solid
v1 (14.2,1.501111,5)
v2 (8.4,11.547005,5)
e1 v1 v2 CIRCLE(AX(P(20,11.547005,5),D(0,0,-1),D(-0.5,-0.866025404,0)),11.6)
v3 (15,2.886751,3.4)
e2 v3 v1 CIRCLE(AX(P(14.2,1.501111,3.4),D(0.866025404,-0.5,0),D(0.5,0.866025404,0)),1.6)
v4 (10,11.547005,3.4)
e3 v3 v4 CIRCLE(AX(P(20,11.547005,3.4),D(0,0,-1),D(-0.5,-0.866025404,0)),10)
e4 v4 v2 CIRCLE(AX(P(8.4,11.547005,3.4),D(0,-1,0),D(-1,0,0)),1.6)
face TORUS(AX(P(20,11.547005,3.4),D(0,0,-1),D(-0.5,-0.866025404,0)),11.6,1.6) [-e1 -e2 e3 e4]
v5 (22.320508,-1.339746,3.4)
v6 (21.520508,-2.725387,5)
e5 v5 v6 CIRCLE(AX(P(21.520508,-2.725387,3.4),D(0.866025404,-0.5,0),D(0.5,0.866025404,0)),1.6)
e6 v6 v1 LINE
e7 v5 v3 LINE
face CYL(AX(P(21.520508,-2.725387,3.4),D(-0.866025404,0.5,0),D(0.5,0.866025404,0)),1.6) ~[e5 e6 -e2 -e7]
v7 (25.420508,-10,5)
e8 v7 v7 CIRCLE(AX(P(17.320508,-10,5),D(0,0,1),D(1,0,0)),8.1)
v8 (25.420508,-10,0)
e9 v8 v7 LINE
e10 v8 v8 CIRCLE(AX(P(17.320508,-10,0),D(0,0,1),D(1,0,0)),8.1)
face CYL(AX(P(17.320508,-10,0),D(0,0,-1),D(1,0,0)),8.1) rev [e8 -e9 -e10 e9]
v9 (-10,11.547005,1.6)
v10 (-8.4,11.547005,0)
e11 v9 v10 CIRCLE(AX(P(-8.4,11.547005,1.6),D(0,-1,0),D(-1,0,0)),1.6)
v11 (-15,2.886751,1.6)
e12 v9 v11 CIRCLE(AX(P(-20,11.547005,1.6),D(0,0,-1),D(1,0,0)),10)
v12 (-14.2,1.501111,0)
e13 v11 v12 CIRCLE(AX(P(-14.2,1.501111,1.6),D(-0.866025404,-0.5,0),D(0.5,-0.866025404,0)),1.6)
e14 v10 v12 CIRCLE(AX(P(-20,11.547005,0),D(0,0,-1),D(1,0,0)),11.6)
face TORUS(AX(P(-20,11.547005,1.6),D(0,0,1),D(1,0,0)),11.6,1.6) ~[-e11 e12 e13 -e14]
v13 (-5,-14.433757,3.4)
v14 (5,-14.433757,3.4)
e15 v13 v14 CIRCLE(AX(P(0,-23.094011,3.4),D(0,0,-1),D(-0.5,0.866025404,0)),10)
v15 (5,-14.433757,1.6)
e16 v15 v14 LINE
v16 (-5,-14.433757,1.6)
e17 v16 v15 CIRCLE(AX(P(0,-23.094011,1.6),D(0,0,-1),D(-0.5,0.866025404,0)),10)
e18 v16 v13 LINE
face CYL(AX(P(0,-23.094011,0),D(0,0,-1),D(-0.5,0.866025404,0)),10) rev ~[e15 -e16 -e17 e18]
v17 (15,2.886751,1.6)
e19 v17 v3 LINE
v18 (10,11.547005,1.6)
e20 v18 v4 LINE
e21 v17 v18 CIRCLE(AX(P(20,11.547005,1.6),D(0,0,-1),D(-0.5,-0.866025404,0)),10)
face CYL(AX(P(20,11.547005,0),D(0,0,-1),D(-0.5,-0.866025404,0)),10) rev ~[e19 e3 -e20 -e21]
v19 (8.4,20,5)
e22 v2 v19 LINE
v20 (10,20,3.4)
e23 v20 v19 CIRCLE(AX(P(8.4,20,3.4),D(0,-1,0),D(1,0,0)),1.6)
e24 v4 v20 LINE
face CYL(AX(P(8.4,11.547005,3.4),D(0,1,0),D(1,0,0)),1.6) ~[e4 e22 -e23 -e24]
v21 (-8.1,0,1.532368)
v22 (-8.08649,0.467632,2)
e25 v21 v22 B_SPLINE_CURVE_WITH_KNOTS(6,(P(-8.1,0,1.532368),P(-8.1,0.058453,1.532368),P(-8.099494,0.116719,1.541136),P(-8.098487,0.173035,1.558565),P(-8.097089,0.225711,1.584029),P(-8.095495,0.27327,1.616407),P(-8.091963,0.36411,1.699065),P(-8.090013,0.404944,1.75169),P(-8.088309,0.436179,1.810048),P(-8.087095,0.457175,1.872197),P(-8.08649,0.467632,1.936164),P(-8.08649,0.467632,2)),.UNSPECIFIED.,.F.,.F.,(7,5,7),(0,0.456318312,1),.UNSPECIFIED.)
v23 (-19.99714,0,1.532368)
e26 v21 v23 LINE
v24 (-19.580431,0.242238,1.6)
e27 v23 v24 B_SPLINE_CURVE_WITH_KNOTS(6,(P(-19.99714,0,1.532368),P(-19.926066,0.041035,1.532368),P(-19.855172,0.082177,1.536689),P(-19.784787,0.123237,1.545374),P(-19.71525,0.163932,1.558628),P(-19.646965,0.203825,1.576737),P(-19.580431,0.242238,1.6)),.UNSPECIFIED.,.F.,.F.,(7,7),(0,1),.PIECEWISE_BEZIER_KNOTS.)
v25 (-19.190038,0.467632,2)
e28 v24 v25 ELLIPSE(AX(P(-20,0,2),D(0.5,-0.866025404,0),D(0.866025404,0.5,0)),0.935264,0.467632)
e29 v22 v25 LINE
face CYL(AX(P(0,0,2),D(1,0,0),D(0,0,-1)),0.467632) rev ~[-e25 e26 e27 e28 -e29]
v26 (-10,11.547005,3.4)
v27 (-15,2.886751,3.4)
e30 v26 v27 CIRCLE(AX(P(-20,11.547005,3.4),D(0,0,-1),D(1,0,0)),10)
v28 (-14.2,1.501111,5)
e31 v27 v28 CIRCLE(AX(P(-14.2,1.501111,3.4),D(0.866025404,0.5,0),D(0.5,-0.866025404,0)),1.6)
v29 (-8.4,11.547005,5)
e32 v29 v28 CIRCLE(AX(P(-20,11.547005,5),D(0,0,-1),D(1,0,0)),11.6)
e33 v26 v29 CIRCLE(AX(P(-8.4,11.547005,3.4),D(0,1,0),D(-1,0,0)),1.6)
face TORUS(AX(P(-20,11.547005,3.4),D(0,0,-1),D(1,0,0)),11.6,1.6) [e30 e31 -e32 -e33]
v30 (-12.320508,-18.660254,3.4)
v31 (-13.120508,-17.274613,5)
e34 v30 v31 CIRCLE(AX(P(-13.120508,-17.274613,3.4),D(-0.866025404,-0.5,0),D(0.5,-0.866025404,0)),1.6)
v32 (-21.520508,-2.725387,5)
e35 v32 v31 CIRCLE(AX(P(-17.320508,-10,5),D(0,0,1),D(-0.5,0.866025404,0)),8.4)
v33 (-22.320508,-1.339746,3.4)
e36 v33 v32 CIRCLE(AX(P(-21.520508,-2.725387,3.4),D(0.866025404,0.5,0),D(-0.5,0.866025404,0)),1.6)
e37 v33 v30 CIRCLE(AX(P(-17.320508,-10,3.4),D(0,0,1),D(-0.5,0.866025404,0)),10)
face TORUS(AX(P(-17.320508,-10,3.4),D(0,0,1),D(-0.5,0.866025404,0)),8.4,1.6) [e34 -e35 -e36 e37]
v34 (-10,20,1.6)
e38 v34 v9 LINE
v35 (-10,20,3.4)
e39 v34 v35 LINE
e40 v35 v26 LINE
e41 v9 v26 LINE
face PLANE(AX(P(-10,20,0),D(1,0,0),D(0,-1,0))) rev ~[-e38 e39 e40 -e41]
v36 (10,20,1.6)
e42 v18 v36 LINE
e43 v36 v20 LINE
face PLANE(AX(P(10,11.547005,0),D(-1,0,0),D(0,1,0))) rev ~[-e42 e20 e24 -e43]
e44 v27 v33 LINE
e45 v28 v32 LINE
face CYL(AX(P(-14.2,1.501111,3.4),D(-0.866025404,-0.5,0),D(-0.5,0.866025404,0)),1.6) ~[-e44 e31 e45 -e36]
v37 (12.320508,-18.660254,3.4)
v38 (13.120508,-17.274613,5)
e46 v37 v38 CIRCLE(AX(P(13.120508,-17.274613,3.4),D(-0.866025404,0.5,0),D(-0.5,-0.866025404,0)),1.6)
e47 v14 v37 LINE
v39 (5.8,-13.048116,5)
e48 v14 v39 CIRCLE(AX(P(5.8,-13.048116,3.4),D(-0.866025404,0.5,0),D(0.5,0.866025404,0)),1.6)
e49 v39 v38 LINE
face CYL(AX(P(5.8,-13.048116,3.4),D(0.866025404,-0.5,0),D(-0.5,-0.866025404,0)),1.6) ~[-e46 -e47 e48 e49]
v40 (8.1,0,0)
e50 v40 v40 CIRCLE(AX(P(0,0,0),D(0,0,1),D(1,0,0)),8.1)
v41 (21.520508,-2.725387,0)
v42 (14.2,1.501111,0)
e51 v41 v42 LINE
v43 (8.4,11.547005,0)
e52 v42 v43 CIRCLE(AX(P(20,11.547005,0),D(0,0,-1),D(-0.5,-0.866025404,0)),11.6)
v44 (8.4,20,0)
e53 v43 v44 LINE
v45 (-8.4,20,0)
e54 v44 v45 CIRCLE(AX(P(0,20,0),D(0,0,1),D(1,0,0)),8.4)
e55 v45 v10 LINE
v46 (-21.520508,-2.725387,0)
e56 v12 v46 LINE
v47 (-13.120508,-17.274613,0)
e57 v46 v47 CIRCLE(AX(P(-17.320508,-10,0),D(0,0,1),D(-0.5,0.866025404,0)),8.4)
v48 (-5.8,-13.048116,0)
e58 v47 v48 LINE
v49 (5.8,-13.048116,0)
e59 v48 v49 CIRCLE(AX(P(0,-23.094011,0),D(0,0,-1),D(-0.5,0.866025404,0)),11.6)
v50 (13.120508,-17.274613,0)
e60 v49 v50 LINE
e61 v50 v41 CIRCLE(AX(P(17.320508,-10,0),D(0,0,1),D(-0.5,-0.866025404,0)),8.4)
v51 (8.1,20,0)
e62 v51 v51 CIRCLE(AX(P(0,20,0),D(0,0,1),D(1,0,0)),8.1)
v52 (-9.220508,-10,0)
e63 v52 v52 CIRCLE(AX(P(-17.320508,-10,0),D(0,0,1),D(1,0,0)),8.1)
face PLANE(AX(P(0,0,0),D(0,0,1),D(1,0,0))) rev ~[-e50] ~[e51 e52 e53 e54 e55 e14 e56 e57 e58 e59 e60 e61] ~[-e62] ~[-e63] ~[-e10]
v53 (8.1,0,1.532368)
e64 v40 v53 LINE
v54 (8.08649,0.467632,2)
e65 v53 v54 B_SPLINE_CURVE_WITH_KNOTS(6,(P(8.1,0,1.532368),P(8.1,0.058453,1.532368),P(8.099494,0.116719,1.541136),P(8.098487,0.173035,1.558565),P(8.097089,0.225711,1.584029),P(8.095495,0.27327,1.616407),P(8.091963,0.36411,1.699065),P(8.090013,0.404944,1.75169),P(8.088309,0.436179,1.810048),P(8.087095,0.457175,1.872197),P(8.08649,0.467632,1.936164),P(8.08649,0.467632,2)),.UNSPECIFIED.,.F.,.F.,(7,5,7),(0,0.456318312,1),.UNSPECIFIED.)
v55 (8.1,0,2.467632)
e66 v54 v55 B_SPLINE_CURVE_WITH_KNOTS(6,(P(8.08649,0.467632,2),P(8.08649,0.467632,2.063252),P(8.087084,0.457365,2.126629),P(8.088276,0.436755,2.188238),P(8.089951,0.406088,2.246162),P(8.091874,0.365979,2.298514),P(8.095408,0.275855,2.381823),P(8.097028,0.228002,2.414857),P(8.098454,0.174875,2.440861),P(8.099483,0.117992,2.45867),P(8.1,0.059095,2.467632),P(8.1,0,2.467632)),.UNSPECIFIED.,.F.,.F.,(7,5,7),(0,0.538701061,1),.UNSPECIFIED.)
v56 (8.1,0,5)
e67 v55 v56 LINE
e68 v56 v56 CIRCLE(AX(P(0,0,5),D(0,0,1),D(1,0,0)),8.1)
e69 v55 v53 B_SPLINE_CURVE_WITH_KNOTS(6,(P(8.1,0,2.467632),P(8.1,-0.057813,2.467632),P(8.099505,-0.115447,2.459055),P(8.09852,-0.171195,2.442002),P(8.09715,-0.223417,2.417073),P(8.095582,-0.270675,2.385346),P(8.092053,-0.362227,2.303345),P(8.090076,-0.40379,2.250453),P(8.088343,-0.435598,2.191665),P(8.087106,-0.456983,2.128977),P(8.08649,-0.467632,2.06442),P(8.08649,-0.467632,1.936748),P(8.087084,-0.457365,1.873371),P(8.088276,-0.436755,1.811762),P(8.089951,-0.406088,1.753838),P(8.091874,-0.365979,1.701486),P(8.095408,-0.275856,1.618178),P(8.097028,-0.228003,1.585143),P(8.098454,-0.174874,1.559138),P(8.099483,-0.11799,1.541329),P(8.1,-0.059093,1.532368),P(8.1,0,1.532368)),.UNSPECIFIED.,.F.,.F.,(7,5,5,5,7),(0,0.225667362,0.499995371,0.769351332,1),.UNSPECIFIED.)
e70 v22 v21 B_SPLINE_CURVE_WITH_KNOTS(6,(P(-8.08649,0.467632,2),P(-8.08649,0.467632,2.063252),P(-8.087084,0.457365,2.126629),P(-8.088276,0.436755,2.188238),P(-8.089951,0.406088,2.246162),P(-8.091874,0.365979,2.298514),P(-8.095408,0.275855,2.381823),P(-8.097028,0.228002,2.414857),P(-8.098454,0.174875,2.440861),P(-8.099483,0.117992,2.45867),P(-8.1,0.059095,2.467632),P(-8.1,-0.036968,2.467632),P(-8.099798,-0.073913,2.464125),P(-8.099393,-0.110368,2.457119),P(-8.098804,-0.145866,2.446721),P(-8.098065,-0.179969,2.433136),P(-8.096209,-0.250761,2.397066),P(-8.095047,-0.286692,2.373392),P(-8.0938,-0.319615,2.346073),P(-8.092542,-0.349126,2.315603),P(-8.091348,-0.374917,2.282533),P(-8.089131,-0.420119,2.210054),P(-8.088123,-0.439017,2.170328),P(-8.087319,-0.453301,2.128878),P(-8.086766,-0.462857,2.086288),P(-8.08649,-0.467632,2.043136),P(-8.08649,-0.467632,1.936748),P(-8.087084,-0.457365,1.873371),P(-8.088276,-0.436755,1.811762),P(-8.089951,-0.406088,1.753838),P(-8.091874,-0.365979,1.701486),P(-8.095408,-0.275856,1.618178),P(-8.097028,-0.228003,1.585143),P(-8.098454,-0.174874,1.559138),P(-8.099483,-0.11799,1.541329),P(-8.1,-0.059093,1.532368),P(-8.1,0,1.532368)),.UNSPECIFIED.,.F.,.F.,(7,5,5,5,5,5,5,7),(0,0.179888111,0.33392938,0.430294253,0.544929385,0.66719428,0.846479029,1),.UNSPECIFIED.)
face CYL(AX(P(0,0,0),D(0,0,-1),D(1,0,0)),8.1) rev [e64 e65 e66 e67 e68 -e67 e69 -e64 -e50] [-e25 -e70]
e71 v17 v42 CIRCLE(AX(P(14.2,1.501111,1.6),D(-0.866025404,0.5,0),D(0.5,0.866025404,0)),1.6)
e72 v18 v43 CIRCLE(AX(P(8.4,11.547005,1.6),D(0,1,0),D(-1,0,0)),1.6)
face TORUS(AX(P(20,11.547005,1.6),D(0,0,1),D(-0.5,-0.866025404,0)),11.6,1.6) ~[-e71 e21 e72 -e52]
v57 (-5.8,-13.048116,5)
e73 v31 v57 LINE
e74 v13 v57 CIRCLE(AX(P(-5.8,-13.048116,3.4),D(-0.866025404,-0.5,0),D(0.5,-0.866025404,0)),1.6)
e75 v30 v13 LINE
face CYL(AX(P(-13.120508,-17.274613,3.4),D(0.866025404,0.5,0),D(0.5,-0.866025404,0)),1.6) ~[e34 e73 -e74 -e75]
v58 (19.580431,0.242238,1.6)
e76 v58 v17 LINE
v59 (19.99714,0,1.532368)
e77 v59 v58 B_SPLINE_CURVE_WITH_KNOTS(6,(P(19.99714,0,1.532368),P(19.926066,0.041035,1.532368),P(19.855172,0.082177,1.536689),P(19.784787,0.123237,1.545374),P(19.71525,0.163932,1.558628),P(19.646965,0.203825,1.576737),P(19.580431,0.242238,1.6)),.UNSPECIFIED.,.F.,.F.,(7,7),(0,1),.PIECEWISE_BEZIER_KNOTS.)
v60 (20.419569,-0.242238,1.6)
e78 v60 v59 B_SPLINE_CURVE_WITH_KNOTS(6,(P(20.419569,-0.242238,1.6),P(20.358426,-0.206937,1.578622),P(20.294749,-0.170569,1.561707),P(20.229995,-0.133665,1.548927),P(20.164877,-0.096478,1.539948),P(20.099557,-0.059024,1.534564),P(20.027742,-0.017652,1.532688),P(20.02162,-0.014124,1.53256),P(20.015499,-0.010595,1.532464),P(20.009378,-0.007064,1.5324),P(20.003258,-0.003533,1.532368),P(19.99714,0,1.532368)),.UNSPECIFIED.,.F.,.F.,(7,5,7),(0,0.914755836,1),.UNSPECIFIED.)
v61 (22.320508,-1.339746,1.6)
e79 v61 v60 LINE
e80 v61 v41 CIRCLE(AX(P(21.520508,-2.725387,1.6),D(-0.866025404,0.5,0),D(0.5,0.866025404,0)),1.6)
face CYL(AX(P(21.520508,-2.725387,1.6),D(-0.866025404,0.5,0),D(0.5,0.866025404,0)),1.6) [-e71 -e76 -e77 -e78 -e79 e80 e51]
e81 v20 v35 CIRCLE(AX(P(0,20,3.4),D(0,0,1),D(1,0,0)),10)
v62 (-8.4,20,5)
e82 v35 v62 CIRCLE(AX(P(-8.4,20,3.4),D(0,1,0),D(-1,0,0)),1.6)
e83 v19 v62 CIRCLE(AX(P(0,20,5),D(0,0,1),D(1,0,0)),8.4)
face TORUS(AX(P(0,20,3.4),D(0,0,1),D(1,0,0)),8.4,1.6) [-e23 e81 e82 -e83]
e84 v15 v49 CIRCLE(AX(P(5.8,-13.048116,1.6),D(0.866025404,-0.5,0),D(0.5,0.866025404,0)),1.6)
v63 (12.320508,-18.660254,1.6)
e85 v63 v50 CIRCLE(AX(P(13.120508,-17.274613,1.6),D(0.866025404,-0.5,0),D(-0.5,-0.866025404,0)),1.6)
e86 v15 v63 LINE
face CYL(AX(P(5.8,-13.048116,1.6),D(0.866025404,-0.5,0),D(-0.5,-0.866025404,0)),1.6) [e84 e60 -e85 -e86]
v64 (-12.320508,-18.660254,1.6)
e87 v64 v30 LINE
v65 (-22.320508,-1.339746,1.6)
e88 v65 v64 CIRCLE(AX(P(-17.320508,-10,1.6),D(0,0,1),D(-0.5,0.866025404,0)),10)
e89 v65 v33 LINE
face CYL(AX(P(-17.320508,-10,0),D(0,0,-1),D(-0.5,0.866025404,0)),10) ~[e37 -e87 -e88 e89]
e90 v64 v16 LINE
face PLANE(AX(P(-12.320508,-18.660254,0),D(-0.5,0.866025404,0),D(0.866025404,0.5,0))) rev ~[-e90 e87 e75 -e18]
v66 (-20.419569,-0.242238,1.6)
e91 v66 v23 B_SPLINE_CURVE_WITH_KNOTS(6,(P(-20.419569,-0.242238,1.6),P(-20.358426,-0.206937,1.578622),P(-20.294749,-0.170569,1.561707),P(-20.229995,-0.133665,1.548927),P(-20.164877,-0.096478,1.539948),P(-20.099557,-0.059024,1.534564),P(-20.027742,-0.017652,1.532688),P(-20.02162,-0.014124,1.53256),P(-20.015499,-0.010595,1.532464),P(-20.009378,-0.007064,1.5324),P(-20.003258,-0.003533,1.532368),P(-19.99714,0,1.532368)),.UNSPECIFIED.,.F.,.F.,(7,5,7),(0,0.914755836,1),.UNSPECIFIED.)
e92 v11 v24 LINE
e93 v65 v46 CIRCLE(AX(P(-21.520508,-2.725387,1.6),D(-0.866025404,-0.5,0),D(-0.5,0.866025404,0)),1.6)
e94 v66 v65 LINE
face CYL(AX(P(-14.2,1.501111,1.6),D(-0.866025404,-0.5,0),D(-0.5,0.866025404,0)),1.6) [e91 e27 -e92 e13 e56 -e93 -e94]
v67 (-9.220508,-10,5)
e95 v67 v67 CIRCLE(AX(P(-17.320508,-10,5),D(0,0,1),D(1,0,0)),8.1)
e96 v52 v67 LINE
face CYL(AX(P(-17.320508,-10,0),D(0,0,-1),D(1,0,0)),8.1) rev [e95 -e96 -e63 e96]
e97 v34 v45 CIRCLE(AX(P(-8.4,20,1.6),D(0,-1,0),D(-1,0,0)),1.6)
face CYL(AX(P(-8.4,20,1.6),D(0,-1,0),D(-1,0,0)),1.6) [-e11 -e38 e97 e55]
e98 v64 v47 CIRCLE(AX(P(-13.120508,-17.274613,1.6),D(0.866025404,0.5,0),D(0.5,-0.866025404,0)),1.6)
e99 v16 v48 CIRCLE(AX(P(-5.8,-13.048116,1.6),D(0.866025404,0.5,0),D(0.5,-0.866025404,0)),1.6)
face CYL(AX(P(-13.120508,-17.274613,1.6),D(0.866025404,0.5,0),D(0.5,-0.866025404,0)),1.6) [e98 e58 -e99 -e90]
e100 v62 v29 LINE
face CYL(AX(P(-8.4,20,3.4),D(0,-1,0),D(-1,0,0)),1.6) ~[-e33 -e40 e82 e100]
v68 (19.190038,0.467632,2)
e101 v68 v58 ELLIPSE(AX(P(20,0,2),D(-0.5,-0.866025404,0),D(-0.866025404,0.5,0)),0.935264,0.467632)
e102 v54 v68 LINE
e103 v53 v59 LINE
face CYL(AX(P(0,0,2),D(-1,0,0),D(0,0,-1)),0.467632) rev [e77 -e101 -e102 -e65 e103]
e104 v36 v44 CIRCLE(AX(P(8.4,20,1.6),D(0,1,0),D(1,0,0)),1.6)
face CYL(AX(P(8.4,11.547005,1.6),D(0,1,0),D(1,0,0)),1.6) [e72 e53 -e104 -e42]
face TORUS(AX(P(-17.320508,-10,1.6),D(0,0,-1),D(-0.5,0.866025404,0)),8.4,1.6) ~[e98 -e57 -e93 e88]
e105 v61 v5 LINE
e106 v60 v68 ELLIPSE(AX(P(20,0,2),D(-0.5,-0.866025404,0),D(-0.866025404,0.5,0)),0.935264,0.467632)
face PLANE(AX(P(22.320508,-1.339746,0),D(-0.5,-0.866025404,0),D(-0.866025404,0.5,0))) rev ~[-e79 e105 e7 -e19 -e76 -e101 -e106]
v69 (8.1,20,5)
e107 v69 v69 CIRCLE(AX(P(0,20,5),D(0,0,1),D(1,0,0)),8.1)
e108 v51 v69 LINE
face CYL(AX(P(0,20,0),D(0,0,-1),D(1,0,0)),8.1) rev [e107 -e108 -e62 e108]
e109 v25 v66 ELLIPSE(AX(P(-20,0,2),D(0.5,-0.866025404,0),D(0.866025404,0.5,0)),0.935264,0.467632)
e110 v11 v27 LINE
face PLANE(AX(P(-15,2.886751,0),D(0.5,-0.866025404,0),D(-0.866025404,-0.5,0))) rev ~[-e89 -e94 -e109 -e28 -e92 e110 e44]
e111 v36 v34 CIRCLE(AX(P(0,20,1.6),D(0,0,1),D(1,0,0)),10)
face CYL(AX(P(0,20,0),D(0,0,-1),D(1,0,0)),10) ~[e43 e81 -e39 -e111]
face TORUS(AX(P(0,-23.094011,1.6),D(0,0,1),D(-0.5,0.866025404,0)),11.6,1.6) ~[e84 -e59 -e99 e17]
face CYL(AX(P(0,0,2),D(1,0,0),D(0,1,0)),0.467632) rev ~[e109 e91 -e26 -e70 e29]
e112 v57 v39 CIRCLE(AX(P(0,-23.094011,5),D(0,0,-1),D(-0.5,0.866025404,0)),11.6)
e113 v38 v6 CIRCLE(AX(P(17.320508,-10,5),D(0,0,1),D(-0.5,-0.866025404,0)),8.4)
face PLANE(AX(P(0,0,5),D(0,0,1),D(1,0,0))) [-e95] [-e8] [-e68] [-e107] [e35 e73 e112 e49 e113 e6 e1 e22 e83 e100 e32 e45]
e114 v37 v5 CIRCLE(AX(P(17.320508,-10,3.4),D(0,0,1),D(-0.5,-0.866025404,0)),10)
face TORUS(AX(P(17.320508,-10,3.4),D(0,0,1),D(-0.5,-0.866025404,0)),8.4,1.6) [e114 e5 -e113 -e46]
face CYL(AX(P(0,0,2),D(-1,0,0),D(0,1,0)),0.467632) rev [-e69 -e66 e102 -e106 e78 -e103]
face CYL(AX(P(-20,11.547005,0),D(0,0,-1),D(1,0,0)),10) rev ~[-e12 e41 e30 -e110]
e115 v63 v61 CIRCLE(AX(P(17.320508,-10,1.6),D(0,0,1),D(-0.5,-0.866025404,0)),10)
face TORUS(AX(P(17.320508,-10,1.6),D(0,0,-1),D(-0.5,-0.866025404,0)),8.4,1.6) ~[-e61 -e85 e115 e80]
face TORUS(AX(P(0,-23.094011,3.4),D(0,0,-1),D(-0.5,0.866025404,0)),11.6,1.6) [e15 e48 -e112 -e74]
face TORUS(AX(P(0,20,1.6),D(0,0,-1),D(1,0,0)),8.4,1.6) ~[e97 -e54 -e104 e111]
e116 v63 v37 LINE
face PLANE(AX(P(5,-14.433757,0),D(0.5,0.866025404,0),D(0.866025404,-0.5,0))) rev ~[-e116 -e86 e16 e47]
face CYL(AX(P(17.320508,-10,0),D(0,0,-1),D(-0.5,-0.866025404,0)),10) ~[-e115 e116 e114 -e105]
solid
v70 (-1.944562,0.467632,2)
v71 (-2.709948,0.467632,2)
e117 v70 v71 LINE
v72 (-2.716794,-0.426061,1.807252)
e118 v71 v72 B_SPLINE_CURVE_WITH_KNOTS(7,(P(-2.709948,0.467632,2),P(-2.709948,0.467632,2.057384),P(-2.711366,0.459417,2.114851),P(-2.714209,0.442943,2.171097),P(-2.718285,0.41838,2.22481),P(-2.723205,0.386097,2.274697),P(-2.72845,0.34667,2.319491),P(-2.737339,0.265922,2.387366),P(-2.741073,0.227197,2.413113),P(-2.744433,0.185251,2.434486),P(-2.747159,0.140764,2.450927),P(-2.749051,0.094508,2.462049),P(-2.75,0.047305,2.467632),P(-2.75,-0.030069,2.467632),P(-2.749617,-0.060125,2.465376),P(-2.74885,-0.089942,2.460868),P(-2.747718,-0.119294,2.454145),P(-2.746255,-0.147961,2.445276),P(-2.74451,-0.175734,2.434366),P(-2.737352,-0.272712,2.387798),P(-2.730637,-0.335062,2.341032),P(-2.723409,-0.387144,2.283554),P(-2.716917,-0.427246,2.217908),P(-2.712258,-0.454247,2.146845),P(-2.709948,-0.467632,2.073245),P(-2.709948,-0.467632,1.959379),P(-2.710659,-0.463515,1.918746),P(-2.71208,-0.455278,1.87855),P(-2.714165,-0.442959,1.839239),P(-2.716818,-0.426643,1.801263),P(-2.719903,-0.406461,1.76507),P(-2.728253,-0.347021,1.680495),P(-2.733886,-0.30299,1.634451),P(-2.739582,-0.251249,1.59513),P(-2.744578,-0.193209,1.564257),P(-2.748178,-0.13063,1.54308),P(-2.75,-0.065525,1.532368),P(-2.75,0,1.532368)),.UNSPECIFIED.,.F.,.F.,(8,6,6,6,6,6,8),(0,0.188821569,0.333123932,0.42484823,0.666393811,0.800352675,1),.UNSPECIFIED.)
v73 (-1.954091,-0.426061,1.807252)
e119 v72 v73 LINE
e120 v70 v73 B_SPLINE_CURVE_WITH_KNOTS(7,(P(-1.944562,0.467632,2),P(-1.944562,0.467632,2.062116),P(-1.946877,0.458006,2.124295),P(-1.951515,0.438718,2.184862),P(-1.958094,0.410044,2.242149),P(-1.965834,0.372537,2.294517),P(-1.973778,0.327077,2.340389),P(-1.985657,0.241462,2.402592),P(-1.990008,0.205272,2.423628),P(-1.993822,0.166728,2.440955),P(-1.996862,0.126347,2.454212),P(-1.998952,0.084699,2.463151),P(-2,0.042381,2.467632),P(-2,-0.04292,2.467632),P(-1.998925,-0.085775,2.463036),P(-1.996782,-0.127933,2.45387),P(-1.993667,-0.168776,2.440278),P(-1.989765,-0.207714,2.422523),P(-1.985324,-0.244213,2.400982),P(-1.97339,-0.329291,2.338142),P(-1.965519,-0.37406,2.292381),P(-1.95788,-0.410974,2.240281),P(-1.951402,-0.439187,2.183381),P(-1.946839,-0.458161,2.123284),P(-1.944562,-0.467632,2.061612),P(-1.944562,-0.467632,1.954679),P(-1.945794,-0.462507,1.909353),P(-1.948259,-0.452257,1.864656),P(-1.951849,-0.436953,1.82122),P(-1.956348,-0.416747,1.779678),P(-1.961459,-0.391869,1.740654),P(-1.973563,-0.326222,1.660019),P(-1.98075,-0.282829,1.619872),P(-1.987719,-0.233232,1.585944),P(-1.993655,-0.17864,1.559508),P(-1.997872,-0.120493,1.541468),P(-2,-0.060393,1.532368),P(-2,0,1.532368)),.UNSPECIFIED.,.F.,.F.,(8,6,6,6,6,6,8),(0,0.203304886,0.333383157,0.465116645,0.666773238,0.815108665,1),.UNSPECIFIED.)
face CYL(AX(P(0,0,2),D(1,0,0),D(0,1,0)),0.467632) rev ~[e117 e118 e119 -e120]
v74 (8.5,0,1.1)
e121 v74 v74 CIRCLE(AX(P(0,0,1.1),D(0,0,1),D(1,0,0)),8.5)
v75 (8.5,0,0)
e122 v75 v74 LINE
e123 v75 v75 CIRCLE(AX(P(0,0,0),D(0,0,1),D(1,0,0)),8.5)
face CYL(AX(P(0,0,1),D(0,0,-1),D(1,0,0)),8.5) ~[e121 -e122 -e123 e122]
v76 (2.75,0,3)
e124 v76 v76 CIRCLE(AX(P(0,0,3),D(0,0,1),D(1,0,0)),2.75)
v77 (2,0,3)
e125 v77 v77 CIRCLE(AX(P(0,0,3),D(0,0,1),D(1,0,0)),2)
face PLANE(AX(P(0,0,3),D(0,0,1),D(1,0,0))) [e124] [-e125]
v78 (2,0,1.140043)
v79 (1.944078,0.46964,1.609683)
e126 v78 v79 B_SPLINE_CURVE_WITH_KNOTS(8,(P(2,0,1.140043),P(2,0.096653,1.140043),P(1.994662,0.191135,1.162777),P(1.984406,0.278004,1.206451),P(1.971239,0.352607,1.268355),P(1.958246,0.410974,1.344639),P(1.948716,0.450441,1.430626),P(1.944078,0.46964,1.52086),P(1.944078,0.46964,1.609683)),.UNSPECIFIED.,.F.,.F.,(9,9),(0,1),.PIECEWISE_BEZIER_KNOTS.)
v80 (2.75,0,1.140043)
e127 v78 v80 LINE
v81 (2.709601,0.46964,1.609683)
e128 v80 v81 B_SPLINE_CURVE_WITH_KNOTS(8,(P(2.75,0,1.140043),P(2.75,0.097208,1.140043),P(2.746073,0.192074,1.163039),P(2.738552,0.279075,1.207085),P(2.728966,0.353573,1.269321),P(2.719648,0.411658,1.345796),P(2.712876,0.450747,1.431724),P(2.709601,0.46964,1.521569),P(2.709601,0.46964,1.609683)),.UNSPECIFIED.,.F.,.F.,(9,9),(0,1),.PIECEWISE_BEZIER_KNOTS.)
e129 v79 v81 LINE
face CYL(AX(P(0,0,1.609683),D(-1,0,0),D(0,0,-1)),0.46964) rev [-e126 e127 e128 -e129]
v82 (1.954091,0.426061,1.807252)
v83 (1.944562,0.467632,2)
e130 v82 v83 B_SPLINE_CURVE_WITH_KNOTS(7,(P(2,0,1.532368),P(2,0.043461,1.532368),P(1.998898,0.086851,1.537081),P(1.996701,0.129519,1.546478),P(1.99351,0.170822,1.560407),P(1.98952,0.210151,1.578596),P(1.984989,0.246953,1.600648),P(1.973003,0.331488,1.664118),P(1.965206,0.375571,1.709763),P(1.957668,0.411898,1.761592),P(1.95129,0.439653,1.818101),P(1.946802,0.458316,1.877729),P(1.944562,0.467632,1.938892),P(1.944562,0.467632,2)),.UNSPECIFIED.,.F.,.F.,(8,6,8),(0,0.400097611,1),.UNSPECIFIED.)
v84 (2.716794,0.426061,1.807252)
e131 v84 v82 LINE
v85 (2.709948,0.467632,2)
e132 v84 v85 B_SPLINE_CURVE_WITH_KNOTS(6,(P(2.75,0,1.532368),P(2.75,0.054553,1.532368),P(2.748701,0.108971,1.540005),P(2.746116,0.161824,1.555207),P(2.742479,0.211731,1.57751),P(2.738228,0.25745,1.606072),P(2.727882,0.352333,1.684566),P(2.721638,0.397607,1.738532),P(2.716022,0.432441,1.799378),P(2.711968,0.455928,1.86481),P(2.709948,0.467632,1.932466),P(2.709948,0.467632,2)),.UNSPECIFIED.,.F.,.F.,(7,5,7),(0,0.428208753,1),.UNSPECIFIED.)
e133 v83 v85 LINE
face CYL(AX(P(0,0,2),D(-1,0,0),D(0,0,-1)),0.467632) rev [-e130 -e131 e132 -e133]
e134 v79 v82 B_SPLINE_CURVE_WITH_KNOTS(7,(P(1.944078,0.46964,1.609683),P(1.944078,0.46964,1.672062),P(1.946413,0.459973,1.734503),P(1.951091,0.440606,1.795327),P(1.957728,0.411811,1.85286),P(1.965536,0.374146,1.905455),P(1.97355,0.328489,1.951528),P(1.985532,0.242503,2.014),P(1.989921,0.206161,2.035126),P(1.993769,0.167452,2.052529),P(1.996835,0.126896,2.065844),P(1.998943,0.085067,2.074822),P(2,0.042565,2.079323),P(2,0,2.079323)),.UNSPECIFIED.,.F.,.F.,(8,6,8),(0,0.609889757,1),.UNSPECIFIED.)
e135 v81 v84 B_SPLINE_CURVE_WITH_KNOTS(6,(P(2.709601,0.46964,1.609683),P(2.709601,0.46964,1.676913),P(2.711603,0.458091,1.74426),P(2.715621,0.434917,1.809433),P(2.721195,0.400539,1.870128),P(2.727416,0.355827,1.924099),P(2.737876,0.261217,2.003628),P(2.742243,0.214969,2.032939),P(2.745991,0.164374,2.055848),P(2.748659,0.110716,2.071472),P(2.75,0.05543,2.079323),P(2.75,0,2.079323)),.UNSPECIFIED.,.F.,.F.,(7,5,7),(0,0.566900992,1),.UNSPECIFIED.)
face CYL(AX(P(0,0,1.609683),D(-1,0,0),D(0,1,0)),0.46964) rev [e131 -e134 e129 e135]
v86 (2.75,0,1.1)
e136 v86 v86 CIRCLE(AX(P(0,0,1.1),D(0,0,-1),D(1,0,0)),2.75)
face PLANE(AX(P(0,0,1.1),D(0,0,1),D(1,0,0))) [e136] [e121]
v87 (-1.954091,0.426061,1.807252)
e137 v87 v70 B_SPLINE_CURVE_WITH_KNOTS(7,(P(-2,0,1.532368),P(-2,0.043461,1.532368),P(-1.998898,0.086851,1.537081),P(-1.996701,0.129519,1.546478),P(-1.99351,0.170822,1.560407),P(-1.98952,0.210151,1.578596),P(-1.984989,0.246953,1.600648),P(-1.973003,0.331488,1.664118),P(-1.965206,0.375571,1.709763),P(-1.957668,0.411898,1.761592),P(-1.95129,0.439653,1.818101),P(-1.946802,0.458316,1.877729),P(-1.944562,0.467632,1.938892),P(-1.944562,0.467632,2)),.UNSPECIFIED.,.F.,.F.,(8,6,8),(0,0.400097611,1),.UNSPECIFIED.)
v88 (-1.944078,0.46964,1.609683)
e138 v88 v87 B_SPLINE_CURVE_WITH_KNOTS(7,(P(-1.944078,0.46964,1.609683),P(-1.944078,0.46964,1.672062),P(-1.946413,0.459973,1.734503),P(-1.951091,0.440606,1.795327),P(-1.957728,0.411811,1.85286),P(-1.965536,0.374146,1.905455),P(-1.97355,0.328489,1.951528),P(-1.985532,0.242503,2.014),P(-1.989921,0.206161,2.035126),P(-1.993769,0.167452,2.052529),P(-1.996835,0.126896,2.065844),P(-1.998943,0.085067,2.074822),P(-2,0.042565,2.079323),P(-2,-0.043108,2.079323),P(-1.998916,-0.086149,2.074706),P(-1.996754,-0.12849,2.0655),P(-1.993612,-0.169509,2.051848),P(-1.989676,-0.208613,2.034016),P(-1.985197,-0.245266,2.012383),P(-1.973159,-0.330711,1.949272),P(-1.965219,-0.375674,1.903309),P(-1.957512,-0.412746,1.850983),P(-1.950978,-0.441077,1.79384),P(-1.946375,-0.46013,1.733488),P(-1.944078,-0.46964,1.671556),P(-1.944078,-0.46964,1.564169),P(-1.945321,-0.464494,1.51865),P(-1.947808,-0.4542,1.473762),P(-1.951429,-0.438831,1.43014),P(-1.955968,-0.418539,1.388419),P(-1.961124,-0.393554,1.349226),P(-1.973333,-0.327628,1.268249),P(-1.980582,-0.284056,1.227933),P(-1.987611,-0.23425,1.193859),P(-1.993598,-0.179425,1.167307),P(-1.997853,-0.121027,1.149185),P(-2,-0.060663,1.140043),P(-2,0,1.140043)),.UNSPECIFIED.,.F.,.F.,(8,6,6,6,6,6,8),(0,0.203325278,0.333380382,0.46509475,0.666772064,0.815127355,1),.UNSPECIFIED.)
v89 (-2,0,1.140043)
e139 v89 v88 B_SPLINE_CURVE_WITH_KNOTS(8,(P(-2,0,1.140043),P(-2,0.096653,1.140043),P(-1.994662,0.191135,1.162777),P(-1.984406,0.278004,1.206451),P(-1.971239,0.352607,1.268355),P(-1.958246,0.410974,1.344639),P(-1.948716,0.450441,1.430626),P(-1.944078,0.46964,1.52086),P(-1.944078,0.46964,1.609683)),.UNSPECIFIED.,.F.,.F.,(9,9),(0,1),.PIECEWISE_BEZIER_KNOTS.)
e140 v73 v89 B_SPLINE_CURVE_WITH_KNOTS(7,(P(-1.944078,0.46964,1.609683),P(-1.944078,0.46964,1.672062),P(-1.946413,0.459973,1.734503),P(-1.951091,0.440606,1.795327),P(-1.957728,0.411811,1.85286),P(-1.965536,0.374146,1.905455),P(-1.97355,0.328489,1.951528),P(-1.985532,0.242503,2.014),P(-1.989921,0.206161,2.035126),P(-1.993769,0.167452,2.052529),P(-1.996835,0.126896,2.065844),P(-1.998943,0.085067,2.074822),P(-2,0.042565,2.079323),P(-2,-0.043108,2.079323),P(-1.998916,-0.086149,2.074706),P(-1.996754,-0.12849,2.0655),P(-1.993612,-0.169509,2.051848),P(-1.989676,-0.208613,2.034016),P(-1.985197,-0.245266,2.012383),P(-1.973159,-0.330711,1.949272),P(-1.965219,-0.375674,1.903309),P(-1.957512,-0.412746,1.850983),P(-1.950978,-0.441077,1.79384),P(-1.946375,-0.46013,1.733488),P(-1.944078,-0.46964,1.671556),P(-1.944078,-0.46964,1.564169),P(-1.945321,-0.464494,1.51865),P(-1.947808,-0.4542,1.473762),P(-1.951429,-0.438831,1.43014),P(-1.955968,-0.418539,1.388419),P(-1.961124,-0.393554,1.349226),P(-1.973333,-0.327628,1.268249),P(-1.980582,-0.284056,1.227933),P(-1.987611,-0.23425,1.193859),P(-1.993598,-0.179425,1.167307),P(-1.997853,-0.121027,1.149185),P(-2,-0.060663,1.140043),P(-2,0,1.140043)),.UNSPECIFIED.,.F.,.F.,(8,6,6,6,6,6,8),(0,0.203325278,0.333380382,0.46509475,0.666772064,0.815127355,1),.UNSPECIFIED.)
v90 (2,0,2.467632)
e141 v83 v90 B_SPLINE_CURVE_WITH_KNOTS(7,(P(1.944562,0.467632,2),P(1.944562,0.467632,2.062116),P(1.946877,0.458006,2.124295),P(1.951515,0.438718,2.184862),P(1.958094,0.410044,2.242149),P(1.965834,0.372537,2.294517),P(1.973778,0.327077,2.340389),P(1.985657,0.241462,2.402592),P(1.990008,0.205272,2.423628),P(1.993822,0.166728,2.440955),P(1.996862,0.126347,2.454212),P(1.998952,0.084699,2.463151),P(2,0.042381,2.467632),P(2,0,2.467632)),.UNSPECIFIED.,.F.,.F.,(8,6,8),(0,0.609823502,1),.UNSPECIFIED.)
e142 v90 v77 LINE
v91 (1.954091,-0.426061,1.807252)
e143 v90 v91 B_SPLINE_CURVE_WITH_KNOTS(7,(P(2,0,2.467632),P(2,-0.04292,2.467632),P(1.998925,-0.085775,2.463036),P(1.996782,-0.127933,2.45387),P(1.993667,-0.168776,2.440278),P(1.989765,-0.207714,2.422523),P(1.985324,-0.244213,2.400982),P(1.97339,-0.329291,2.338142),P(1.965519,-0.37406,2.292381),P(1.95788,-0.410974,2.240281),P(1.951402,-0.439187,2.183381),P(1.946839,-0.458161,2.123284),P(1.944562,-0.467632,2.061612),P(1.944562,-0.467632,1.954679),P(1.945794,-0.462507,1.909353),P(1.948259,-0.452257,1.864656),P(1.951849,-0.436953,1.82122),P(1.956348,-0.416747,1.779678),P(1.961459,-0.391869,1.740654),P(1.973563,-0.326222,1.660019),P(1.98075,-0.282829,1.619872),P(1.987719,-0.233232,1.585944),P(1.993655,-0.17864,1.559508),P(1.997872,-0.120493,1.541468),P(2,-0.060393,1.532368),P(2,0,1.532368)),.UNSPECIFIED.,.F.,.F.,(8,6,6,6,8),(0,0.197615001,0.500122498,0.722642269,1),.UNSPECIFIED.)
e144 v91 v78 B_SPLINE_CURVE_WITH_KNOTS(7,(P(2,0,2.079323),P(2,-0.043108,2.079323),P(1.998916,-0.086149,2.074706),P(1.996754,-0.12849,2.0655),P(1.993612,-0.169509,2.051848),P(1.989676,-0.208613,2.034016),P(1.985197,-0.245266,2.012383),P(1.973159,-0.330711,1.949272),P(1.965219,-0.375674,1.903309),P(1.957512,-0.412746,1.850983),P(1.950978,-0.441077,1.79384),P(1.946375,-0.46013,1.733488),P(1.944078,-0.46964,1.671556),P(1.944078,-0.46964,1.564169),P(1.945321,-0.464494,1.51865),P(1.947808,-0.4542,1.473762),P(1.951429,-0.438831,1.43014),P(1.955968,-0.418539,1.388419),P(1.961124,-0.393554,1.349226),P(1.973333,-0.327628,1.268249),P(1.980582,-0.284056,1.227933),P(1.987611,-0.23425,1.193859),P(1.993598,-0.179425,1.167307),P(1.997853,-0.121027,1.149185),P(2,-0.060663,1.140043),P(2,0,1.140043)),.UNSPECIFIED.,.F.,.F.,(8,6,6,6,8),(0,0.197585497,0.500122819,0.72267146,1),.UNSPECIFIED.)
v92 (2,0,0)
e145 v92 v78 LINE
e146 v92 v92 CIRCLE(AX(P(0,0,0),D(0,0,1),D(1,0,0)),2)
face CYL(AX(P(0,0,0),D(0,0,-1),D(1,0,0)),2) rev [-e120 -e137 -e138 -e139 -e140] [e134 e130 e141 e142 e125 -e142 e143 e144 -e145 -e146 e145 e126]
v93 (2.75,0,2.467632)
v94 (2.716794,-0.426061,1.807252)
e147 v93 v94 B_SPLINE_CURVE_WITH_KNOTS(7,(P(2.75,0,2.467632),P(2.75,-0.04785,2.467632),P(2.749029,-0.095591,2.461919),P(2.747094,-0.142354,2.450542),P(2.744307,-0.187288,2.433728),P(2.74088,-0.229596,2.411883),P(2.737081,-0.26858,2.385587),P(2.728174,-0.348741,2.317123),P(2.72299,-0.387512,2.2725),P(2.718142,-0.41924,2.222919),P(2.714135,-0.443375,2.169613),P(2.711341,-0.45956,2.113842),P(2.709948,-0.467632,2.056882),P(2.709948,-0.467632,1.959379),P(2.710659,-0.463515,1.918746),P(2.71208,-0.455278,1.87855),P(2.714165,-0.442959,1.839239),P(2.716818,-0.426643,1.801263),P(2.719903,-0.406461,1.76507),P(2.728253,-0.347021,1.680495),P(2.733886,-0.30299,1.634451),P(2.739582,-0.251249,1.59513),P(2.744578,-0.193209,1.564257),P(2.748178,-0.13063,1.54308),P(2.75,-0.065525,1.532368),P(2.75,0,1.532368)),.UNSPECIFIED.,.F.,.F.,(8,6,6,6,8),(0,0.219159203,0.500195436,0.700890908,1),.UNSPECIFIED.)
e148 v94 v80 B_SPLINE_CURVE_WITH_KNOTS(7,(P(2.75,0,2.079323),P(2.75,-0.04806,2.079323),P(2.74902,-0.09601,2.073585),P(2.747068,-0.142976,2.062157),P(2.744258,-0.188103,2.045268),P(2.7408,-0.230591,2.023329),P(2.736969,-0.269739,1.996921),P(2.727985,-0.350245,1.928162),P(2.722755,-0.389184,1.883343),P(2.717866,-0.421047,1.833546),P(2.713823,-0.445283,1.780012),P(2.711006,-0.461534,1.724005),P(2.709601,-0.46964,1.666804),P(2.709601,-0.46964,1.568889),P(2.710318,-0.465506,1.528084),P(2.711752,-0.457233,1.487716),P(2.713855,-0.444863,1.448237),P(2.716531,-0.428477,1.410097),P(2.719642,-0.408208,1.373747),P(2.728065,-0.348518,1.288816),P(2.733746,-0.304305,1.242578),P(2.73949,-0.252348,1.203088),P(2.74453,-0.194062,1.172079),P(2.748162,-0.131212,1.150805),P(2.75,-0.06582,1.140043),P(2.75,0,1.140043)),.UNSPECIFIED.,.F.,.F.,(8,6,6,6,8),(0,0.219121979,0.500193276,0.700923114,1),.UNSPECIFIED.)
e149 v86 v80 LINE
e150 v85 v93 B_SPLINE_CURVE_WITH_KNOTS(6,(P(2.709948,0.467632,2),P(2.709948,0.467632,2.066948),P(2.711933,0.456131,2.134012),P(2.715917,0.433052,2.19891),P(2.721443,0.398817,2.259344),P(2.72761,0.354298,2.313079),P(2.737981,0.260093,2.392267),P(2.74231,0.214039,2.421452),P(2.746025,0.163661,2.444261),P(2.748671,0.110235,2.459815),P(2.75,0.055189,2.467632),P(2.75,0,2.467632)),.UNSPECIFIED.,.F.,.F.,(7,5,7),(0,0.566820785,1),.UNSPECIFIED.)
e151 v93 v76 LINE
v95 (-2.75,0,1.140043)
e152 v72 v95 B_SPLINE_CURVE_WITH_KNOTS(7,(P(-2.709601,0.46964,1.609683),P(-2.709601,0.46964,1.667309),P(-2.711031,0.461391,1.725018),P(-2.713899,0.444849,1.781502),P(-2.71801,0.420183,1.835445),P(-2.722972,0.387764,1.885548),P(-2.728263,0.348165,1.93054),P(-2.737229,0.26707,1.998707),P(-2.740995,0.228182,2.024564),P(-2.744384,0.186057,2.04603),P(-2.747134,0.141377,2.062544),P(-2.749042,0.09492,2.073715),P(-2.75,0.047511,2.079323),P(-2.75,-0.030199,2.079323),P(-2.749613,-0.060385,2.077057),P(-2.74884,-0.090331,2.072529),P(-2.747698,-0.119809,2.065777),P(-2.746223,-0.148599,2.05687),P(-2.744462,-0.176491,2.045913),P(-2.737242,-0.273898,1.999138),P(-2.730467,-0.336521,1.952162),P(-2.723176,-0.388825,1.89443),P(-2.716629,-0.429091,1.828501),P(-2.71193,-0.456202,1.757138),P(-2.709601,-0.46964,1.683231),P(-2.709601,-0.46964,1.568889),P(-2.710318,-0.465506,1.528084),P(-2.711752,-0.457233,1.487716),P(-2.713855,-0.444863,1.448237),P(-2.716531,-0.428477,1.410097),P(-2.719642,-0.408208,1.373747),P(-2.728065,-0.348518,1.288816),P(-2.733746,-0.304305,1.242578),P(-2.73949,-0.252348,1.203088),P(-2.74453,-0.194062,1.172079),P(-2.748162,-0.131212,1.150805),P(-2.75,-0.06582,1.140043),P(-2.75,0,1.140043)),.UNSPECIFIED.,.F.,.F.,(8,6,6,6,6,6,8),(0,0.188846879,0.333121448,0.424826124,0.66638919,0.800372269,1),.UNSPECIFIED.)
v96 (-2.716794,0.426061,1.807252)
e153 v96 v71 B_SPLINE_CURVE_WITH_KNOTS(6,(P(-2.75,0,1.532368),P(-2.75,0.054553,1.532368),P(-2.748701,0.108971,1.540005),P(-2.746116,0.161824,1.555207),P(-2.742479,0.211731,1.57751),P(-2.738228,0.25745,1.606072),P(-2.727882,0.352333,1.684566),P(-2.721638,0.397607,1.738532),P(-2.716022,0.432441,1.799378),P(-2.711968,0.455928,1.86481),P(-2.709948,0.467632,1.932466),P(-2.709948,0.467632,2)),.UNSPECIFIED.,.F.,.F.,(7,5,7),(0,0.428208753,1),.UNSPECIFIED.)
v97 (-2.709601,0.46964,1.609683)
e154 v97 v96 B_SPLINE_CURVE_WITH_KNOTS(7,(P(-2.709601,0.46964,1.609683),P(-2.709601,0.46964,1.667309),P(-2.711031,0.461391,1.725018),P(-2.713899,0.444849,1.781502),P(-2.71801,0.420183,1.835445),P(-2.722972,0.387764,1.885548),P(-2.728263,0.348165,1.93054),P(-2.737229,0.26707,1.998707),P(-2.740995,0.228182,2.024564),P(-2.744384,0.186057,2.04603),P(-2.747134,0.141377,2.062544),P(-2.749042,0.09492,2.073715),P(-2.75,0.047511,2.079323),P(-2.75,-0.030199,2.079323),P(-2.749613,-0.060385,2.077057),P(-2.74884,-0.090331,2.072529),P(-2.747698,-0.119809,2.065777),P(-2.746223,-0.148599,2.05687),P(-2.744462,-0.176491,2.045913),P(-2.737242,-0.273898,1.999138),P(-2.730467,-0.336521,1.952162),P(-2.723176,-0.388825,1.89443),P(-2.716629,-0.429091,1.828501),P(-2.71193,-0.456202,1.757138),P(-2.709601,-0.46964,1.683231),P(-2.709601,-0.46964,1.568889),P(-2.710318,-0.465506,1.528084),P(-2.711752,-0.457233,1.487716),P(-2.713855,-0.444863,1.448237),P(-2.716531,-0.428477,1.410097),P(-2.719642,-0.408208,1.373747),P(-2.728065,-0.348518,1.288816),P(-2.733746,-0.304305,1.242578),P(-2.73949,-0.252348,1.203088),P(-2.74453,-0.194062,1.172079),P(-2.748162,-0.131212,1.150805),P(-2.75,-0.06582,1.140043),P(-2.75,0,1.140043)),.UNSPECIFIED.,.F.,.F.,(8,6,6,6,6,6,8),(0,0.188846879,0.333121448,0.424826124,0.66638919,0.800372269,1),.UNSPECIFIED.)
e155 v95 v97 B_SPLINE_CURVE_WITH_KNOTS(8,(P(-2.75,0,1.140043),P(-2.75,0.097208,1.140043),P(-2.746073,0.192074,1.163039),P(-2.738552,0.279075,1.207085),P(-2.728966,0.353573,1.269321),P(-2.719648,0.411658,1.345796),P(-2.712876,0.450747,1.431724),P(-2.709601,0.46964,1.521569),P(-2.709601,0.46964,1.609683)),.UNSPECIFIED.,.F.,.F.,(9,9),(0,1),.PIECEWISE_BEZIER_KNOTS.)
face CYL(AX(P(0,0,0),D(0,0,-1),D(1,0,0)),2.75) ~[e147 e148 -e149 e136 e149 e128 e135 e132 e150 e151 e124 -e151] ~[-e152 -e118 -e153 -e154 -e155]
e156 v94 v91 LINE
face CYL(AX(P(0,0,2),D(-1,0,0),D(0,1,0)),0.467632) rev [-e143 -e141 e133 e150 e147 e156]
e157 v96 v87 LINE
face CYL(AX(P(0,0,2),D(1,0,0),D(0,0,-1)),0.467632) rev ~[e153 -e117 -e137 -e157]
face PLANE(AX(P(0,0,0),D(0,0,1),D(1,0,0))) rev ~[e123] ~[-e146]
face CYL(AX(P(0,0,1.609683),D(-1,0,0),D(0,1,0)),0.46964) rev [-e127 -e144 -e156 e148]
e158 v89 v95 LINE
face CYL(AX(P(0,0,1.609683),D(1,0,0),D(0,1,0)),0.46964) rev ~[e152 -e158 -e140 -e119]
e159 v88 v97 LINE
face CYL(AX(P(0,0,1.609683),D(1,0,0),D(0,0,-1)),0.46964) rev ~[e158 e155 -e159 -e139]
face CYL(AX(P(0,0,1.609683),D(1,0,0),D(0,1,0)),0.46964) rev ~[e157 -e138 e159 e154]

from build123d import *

# Parameters (mm, degrees)
F0_R           = 8.1
F1_DEPTH       = 5
F2_R           = 1.6
F3_R           = 8.5
F3_R_2         = 2.75
F3_R_3         = 2
F4_DEPTH       = 1
F5_DEPTH       = 3
F6_DEPTH       = 0.1
F8_DEPTH       = 4
F8_DEPTH_BACK  = 3
F10_DEPTH      = 25
F10_DEPTH_BACK = 25


with BuildPart() as f1:
    # F0 (on Top) → F1 (new body)
    with BuildSketch(Plane.XY):
        with BuildLine():
            ThreePointArc((10, 20), (0, 30), (-10, 20))
            Line((-10, 20), (-10, 11.5470053838))
            ThreePointArc((-10, 11.5470053838), (-11.3397459622, 6.5470053838), (-15, 2.8867513459))
            Line((-15, 2.8867513459), (-22.3205080757, -1.3397459622))
            ThreePointArc((-22.3205080757, -1.3397459622), (-25.9807621135, -15), (-12.3205080757, -18.6602540378))
            Line((-12.3205080757, -18.6602540378), (-5, -14.4337567297))
            ThreePointArc((-5, -14.4337567297), (0, -13.0940107676), (5, -14.4337567297))
            Line((5, -14.4337567297), (12.3205080757, -18.6602540378))
            ThreePointArc((12.3205080757, -18.6602540378), (25.9807621135, -15), (22.3205080757, -1.3397459622))
            Line((22.3205080757, -1.3397459622), (15, 2.8867513459))
            ThreePointArc((15, 2.8867513459), (11.3397459622, 6.5470053838), (10, 11.5470053838))
            Line((10, 11.5470053838), (10, 20))
        make_face()
        with Locations((-17.3205080757, -10)):
            Circle(F0_R, mode=Mode.SUBTRACT)
        with Locations((17.3205080757, -10)):
            Circle(F0_R, mode=Mode.SUBTRACT)
        Circle(F0_R, mode=Mode.SUBTRACT)
        with Locations((0, 20)):
            Circle(F0_R, mode=Mode.SUBTRACT)
    extrude(amount=F1_DEPTH)

    # F2
    f2_edges = [f1.edges().sort_by_distance(p)[0] for p in [
        (-12.320508, -18.660254, 2.5),
        (-5, -14.433757, 2.5),
        (-8.660254, -16.547005, 0),
        (-8.660254, -16.547005, 5),
    ]]
    fillet(f2_edges, radius=F2_R)


with BuildPart() as f4:
    # F3 (on Top) → F4 (new body)
    with BuildSketch(Plane.XY):
        Circle(F3_R)
        Circle(F3_R_2, mode=Mode.SUBTRACT)
        Circle(F3_R_2)
        Circle(F3_R_3, mode=Mode.SUBTRACT)
    extrude(amount=F4_DEPTH)

    # F3 (on Top) → F5 (join)
    with BuildSketch(Plane.XY):
        Circle(F3_R_2)
        Circle(F3_R_3, mode=Mode.SUBTRACT)
    extrude(amount=F5_DEPTH)

    # F6 (add): a face of the model
    f6_faces = [f4.faces().sort_by_distance(p)[0] for p in [
        (-8.2595836944, 0, 1),
    ]]
    extrude(f6_faces, amount=F6_DEPTH)

    # F7 (on Right) → F8 (cut, two sides)
    with BuildSketch(Plane.YZ) as f8_sk:
        with BuildLine():
            ThreePointArc((0, 1.1400432698), (0.3320853816, 1.2775975387), (0.4696396506, 1.6096829204))
            ThreePointArc((0.4696396506, 1.6096829204), (-0.3320853816, 1.941768302), (0, 1.1400432698))
        make_face()
    extrude(amount=F8_DEPTH, mode=Mode.SUBTRACT)
    extrude(f8_sk.sketch, amount=-F8_DEPTH_BACK, mode=Mode.SUBTRACT)


with BuildPart() as f10_tool:
    # F9 (on Right) → F10 (new body, two sides)
    with BuildSketch(Plane.YZ) as f10_sk:
        with BuildLine():
            ThreePointArc((0, 1.5323682454), (0.3306655848, 1.6693344152), (0.4676317546, 2))
            ThreePointArc((0.4676317546, 2), (-0.3306655848, 2.3306655848), (0, 1.5323682454))
        make_face()
    extrude(amount=F10_DEPTH)
    extrude(f10_sk.sketch, amount=-F10_DEPTH_BACK)


with BuildPart() as f1_1:
    add(f1.part)

    # F10: cut by f10_tool
    add(f10_tool.part, mode=Mode.SUBTRACT)


with BuildPart() as f4_1:
    add(f4.part)

    # F10: cut by f10_tool
    add(f10_tool.part, mode=Mode.SUBTRACT)


solid = Compound([f1_1.part, f4_1.part])
